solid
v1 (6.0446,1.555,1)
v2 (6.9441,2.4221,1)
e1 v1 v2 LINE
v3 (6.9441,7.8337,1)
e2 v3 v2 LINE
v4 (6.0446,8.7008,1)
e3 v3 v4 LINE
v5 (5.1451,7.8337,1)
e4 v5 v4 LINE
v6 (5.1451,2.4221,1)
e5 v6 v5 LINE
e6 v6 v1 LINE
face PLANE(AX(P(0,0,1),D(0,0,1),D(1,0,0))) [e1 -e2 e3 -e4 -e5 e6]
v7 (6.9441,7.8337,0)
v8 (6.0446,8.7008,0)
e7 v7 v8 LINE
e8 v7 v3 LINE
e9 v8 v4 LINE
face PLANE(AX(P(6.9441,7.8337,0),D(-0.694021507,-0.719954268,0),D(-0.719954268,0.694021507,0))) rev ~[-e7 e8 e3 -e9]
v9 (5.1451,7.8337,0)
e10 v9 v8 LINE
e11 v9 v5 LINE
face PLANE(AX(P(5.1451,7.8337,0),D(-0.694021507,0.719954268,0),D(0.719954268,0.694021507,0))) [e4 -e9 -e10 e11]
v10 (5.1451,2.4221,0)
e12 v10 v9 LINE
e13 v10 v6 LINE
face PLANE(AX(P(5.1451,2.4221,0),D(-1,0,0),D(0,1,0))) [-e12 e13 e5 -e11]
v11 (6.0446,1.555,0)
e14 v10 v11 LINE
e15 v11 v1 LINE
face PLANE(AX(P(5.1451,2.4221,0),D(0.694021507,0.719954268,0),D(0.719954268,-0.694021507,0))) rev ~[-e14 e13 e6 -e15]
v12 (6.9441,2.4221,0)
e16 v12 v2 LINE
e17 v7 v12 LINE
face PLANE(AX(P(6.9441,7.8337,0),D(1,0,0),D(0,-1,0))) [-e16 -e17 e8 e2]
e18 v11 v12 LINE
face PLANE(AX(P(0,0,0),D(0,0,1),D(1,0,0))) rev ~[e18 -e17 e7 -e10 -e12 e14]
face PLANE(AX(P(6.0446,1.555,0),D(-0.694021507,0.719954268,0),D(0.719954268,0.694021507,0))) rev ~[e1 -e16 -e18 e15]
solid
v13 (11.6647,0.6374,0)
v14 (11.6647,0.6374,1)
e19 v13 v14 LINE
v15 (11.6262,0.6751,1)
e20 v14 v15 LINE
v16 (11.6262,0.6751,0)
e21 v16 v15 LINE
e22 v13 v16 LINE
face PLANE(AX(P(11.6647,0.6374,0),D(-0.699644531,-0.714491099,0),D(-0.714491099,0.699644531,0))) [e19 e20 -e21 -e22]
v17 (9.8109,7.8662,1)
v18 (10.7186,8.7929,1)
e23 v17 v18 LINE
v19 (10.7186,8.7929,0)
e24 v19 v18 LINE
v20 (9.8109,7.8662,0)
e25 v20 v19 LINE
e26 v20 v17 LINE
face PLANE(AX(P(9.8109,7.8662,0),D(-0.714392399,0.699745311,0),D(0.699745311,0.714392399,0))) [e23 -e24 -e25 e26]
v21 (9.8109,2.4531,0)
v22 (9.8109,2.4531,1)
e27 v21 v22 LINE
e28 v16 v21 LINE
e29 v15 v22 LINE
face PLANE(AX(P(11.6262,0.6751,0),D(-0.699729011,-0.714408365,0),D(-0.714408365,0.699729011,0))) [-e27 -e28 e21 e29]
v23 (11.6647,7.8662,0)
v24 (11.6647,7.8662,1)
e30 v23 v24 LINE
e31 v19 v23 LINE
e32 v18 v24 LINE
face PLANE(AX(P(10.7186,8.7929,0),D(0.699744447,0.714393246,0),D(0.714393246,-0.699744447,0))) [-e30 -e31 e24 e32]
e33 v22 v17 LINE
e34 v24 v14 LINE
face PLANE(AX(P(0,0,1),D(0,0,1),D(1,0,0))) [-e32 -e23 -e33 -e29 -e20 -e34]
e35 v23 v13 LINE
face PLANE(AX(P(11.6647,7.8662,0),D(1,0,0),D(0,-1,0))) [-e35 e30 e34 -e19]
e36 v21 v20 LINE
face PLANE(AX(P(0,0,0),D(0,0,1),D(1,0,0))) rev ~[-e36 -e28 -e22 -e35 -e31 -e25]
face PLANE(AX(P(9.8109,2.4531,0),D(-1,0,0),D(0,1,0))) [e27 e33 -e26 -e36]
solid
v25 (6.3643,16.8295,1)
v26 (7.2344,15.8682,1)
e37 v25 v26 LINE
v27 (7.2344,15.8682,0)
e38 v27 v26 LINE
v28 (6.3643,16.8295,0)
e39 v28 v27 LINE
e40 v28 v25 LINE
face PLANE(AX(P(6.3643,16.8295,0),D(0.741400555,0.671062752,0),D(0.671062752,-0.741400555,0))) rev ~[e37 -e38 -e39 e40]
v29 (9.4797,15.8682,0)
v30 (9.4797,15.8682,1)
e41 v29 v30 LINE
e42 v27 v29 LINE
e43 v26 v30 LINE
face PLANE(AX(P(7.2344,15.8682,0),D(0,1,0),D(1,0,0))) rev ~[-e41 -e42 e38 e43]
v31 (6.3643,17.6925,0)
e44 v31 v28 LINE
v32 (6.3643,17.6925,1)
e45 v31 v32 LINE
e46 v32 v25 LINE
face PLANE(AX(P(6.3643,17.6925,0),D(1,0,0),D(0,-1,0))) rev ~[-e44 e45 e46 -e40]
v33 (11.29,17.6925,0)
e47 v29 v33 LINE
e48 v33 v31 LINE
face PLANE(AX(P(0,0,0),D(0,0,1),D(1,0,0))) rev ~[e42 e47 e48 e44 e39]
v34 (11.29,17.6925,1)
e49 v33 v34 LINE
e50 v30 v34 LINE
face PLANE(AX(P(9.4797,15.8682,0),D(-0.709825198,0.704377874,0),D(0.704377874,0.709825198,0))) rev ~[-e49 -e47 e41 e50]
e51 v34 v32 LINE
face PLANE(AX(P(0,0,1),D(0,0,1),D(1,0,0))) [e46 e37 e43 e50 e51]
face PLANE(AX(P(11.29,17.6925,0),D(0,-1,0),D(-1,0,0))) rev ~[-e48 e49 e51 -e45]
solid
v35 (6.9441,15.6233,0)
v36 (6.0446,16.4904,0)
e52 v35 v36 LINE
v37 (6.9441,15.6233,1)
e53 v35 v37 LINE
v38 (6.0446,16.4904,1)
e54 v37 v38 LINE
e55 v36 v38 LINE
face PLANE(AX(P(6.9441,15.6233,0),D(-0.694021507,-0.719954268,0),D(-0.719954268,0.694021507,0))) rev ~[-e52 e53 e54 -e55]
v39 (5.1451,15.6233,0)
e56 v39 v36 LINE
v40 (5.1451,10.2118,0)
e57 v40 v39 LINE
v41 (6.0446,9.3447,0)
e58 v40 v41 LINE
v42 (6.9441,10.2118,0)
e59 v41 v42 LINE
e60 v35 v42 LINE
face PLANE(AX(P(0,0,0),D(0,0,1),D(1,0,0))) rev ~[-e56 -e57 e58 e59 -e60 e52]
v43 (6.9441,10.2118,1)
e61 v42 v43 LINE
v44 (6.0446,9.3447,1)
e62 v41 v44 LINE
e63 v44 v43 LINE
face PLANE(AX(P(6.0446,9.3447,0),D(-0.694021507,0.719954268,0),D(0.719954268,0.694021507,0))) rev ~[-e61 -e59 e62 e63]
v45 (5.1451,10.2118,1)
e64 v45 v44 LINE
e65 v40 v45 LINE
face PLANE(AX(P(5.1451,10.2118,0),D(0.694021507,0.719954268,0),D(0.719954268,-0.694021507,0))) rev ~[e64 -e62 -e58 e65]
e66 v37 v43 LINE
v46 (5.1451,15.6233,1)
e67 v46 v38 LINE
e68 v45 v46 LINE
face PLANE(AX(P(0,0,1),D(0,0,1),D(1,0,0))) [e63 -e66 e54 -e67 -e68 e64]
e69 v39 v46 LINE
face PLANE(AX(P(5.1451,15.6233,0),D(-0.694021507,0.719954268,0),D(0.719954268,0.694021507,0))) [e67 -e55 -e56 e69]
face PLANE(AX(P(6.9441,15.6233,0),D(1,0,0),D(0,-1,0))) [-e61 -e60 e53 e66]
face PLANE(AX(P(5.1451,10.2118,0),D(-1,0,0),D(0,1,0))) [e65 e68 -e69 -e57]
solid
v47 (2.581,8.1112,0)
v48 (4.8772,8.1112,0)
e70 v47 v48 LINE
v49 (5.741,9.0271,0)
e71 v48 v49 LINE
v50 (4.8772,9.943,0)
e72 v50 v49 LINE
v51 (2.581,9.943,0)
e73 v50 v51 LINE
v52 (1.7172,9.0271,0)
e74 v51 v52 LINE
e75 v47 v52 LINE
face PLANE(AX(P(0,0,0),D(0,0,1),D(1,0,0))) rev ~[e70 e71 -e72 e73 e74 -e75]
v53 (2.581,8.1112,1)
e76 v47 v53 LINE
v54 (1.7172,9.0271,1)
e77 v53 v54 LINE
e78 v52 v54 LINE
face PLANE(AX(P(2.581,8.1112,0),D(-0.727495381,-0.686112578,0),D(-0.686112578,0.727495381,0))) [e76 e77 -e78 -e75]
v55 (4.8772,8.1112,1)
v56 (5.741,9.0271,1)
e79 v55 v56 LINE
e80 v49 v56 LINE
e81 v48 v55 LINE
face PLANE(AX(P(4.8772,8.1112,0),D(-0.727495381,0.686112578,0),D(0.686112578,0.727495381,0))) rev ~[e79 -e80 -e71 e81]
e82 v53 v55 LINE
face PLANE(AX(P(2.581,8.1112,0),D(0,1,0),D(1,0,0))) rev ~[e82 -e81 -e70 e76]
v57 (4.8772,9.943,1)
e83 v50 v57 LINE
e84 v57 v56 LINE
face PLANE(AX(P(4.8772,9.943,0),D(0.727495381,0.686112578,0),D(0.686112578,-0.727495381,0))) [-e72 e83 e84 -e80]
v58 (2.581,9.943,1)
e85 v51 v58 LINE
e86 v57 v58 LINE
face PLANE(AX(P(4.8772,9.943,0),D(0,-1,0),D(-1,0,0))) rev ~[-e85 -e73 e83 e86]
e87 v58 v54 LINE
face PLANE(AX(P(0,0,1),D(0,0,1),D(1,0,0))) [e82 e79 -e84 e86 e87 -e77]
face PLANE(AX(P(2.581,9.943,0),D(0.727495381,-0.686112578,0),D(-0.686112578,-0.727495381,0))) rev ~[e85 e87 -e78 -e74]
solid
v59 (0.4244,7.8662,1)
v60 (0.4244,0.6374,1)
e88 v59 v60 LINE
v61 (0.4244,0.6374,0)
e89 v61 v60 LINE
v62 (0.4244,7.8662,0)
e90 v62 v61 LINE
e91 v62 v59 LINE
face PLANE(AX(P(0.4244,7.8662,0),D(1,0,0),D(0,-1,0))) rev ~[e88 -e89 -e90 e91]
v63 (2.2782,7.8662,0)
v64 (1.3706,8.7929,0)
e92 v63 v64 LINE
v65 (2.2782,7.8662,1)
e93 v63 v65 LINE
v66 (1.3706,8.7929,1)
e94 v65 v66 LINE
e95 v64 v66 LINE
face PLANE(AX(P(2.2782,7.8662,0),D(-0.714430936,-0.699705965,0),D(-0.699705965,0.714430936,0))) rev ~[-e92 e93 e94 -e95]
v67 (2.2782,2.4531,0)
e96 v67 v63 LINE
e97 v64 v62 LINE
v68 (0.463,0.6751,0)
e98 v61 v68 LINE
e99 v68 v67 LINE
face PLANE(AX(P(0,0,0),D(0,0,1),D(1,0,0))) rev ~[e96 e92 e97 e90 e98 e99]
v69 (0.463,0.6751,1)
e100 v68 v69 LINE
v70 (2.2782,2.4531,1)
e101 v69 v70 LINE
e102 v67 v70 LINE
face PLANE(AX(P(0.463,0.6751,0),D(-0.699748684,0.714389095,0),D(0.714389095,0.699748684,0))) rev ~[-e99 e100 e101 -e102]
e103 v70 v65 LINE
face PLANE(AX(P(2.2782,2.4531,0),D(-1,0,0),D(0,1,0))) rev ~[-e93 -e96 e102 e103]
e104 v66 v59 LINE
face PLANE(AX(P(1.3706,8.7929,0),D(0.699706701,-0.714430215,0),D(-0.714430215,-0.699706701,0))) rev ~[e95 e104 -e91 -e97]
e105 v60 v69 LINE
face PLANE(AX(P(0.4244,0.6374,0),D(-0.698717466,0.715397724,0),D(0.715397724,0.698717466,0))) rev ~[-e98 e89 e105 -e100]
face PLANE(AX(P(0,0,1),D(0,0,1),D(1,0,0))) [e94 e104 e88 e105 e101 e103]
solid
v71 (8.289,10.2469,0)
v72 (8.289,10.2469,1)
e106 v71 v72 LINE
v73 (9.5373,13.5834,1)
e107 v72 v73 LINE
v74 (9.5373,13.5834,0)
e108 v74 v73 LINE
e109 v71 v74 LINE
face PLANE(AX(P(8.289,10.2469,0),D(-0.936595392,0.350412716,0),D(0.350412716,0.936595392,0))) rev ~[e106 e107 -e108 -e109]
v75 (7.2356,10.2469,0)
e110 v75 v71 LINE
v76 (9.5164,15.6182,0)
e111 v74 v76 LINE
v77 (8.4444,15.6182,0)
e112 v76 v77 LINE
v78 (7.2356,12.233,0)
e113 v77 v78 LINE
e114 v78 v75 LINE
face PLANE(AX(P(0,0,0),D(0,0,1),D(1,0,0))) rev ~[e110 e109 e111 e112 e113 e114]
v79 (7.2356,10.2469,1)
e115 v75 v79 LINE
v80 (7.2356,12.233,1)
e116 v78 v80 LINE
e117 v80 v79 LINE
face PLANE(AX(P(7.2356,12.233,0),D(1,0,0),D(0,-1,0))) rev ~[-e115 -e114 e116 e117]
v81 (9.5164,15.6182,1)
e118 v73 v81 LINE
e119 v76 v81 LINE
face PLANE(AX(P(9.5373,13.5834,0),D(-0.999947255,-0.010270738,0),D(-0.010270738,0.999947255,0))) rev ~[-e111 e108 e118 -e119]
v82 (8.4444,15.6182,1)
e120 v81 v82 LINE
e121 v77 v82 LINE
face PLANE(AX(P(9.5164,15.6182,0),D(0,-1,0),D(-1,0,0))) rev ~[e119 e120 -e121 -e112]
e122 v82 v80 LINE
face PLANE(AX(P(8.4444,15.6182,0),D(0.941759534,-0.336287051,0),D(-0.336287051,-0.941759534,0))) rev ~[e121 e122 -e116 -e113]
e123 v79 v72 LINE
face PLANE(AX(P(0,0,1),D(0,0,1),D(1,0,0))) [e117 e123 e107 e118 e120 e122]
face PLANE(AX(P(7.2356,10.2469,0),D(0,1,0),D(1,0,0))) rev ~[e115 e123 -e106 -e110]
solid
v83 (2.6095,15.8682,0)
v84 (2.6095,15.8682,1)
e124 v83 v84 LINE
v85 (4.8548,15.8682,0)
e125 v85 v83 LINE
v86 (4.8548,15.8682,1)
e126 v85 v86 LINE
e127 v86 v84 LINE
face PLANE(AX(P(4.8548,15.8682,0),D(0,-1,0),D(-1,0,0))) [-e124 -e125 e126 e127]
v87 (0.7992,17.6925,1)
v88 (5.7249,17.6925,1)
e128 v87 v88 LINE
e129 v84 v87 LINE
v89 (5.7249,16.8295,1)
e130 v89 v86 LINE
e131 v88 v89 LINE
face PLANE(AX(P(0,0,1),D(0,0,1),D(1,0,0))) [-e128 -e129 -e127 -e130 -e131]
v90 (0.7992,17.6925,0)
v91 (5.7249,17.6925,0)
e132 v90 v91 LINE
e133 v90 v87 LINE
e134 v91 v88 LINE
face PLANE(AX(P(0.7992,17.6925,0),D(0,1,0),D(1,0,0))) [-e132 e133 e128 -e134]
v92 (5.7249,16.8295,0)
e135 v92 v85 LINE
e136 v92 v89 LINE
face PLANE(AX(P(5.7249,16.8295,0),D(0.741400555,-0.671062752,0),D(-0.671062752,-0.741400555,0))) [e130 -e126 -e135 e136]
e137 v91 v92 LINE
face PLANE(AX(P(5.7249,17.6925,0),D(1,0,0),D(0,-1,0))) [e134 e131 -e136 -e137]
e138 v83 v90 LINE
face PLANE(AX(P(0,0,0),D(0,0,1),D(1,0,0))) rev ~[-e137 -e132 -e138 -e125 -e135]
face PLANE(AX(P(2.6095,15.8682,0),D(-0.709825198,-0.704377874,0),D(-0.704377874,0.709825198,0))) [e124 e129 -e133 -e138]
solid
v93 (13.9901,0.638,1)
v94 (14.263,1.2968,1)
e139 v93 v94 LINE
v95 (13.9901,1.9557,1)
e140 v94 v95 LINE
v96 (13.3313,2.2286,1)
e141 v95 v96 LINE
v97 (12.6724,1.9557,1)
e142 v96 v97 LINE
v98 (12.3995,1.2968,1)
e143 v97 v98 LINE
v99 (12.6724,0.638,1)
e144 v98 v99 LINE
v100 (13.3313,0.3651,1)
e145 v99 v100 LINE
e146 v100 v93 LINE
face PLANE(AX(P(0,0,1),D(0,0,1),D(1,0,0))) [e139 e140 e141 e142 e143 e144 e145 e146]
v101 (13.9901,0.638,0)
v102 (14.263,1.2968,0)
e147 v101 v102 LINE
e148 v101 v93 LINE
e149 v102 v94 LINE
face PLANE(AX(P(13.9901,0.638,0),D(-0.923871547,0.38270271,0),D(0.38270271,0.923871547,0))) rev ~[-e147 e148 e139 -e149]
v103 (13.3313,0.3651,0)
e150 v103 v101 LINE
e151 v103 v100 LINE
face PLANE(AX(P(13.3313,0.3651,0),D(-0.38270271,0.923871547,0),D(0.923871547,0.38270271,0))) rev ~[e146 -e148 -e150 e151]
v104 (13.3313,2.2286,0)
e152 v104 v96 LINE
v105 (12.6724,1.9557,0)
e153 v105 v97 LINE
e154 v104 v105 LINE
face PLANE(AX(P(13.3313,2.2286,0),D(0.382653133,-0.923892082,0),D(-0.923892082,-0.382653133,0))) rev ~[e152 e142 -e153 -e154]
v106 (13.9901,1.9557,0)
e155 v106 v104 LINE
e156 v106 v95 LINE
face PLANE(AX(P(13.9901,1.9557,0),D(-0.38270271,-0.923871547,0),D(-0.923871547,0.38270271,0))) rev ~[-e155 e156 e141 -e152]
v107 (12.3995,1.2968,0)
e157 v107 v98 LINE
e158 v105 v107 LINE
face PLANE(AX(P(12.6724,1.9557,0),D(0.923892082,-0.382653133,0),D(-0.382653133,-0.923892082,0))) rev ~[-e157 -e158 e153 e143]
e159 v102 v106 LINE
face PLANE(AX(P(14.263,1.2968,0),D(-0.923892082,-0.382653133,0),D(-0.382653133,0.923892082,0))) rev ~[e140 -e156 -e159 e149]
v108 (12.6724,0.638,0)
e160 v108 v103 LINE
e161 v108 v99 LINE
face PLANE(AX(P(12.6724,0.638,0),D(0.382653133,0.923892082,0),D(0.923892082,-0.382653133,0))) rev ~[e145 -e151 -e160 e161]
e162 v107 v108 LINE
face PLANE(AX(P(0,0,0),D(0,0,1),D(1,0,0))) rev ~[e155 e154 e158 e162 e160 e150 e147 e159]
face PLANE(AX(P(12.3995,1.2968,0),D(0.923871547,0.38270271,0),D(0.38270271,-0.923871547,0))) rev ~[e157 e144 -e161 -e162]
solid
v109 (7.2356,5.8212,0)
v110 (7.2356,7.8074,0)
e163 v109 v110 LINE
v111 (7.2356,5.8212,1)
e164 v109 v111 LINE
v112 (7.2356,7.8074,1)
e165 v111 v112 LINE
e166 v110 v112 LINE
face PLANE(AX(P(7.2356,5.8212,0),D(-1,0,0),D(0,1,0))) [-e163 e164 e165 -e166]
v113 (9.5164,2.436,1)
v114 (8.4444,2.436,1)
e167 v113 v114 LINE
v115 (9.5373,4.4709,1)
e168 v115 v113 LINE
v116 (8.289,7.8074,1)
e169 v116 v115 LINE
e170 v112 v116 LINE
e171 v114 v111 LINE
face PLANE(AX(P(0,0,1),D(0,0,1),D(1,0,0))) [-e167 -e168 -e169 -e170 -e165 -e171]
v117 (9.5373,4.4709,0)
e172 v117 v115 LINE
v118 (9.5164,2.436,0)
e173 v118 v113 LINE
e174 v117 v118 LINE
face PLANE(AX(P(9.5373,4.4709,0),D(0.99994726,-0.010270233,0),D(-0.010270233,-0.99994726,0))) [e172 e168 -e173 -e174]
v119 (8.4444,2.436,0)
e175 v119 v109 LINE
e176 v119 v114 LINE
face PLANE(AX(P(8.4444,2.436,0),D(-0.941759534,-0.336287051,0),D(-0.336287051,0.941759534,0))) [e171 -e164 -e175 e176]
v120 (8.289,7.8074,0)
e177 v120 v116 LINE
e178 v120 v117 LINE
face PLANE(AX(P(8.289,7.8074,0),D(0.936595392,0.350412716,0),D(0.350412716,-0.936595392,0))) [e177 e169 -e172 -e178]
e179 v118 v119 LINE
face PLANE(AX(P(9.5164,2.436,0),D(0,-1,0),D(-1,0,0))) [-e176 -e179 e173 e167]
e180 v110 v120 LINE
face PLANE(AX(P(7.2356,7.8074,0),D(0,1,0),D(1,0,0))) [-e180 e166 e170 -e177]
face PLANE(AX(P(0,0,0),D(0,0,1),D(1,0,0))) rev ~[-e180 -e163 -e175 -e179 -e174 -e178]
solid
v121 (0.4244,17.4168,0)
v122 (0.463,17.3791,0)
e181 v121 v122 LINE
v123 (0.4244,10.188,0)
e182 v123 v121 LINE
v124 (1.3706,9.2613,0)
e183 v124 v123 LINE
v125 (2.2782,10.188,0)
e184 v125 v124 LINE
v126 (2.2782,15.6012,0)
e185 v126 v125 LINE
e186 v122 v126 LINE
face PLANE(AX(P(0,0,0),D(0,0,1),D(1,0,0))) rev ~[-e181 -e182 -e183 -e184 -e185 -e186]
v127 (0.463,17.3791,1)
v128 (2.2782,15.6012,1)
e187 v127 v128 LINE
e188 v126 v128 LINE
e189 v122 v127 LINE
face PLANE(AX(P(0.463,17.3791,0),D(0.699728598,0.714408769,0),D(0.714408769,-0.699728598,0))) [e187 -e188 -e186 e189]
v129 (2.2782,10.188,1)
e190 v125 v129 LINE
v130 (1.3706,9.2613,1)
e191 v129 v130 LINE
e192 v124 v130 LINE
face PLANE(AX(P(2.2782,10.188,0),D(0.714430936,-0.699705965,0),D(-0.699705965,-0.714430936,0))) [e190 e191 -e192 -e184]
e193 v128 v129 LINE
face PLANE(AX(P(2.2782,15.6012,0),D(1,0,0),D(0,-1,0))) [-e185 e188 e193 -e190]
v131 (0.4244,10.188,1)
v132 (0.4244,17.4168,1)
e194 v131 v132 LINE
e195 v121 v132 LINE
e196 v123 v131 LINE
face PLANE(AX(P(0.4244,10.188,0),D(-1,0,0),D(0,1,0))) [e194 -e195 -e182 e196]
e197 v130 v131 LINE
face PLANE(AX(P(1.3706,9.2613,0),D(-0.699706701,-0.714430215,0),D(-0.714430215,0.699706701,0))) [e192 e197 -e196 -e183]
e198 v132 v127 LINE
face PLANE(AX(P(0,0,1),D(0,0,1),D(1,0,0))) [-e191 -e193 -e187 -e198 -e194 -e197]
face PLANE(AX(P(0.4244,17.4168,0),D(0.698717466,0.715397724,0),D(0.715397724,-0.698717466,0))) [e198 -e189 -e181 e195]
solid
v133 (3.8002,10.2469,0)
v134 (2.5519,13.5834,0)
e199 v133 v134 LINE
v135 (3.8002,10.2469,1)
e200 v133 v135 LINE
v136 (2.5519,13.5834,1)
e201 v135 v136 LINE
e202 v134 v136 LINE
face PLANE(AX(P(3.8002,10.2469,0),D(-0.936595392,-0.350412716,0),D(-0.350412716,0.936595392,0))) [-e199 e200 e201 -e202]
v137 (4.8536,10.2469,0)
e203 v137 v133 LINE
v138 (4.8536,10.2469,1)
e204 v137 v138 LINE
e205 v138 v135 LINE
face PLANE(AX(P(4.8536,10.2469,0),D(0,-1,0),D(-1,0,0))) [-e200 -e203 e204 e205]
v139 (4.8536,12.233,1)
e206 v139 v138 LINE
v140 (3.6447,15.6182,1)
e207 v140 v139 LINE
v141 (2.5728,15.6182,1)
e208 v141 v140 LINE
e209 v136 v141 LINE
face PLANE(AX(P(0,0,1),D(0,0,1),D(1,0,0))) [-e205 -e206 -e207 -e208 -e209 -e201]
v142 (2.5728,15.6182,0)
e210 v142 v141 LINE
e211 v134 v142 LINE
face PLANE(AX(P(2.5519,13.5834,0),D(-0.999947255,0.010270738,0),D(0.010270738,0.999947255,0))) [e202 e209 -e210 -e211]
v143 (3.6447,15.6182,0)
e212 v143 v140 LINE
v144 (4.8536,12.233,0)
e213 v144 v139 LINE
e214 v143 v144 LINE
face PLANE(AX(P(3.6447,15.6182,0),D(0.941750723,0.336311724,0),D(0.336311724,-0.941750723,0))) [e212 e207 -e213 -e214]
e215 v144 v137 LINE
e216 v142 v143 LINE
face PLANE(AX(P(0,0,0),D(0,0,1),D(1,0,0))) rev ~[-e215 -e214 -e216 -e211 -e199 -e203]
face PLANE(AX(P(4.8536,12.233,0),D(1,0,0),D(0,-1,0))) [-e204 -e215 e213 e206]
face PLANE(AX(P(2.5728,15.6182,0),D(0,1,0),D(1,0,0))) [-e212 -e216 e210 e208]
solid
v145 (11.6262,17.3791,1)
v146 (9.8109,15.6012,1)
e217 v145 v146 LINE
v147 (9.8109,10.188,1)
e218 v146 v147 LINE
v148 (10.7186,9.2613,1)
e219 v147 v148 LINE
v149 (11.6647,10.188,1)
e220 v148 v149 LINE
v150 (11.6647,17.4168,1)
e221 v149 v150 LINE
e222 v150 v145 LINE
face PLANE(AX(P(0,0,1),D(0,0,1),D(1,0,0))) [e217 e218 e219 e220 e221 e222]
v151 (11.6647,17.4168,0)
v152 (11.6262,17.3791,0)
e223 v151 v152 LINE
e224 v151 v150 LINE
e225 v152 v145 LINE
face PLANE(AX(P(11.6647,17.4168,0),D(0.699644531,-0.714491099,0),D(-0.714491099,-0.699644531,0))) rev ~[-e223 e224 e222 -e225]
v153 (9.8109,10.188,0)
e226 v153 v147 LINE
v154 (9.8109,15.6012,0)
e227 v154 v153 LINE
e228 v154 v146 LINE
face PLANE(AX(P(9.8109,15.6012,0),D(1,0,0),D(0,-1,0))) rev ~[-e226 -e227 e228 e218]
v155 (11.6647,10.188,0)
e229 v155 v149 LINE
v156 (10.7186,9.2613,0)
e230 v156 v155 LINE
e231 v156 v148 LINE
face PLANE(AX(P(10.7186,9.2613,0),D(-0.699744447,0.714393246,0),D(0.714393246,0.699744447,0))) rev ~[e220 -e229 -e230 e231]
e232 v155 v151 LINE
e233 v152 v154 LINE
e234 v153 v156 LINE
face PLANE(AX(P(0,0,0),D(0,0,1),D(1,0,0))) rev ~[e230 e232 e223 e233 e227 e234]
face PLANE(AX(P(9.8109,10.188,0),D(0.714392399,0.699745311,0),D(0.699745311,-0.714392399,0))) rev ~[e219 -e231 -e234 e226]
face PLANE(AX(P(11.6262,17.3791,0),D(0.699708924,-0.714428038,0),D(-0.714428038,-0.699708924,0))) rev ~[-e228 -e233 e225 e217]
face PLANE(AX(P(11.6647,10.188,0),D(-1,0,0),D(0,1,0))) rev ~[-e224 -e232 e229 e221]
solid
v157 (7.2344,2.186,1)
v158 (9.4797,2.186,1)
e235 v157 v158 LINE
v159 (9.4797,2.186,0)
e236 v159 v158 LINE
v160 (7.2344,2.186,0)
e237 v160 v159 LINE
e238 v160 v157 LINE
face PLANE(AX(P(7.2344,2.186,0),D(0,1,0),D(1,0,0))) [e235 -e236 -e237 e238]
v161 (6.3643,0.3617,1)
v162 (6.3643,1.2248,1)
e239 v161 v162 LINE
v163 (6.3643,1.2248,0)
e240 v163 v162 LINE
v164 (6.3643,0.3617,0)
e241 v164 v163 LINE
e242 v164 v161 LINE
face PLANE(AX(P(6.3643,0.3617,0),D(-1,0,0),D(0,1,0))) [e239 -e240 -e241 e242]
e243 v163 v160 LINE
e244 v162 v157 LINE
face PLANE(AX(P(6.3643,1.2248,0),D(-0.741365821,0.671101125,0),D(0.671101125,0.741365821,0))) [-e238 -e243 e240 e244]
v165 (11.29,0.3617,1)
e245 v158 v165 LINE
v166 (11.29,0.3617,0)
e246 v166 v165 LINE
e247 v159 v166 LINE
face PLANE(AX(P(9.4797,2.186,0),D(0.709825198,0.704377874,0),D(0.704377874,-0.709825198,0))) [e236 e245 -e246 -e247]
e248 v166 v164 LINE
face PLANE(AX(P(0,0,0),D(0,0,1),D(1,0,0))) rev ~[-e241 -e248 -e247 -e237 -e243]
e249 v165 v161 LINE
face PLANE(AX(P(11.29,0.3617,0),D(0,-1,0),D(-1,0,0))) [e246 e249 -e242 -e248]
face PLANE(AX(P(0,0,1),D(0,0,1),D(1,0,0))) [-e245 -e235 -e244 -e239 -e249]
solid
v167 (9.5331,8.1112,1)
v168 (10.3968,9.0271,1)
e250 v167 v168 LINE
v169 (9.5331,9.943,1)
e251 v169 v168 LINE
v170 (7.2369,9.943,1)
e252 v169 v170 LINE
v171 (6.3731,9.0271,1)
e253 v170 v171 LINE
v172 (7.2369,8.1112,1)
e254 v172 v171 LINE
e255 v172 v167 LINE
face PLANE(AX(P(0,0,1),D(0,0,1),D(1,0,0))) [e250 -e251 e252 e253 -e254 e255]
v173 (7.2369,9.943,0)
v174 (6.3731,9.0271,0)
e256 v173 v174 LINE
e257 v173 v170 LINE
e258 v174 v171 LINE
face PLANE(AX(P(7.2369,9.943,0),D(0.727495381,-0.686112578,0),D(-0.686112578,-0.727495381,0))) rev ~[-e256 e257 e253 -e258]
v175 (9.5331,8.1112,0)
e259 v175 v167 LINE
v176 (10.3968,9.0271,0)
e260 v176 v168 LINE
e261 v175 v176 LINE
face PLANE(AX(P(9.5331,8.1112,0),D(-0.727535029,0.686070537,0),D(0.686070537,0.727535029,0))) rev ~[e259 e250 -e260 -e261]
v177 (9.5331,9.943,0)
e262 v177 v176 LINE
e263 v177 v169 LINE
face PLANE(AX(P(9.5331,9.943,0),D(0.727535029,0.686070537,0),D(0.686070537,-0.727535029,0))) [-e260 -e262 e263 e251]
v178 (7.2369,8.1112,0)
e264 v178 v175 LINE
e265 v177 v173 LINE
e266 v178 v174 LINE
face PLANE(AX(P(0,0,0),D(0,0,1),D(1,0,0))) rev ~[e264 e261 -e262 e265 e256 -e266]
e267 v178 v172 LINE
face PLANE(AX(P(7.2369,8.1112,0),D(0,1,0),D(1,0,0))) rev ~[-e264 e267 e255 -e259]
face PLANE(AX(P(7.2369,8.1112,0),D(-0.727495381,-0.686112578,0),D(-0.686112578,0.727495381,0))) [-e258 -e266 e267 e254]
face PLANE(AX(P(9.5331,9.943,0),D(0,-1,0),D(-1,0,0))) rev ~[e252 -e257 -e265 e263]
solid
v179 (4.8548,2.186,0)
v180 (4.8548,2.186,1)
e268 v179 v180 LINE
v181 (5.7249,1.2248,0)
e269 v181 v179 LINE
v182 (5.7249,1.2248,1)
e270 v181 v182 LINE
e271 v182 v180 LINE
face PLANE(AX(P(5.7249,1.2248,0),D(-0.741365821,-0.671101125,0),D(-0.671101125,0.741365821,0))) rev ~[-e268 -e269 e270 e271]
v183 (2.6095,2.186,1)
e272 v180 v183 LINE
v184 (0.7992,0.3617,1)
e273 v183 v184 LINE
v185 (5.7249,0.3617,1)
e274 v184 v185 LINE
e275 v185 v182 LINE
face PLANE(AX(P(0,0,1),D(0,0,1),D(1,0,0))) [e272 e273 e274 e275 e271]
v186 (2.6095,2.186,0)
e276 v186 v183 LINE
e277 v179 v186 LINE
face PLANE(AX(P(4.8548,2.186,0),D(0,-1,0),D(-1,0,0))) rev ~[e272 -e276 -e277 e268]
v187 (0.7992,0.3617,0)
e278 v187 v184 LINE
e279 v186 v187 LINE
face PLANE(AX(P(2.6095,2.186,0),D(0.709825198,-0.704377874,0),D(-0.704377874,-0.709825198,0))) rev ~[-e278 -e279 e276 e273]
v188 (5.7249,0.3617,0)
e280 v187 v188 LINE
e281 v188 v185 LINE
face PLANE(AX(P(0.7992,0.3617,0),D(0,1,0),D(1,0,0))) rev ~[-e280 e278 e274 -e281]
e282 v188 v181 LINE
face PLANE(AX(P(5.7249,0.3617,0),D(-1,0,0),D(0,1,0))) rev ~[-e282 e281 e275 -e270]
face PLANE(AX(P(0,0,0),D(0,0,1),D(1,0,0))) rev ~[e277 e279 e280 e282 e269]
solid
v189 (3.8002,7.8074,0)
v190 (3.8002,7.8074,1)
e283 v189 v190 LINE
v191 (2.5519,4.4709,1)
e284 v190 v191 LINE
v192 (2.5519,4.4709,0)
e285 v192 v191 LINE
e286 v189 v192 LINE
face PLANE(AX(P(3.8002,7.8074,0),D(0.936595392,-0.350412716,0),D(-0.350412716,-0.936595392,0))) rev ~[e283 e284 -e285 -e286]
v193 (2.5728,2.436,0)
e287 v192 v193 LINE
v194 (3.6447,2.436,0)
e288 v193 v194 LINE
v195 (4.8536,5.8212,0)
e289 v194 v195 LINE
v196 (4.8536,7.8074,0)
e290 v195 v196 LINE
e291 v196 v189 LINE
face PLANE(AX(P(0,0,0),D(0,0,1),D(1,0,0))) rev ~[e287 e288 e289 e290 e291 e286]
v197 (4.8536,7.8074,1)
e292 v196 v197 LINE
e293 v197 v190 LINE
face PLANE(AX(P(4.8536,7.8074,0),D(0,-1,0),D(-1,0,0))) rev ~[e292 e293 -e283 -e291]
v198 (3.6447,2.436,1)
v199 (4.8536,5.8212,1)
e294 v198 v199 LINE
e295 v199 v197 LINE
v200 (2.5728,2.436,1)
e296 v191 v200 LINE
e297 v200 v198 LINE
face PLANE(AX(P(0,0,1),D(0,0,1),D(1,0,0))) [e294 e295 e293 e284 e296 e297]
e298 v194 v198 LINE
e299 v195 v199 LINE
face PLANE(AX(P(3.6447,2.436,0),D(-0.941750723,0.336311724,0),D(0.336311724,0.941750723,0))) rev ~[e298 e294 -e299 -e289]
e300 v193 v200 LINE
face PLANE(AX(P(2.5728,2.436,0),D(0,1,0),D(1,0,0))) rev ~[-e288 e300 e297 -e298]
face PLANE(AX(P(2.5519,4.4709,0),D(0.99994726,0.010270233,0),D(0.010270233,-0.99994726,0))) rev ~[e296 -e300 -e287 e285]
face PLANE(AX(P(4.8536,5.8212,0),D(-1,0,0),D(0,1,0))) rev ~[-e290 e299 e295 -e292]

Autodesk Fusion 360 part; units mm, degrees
sketch "Sketch1" plane through (0, 0, 0) normal (0, 0, 1) x (1, 0, 0)
  line L0 (0.7992, 17.6925) -> (5.7249, 17.6925)
  line L1 (5.7249, 17.6925) -> (5.7249, 16.8295)
  line L2 (5.7249, 16.8295) -> (4.8548, 15.8682)
  line L3 (4.8548, 15.8682) -> (2.6095, 15.8682)
  line L4 (2.6095, 15.8682) -> (0.7992, 17.6925)
  line L5 (6.0446, 16.5847) -> (6.0446, 17.6925) construction
  line L6 (5.5548, 9.0271) -> (6.5259, 9.0271) construction
  line L7 (6.5259, 9.0271) -> (6.7604, 9.0271) construction
  line L8 (6.7604, 9.0271) -> (11.6566, 9.0271) construction
  line L9 (6.0446, 16.5847) -> (6.0446, 17.6925) construction
  line L10 (11.29, 17.6925) -> (6.3643, 17.6925)
  line L11 (9.4797, 15.8682) -> (11.29, 17.6925)
  line L12 (6.3643, 17.6925) -> (6.3643, 16.8295)
  line L13 (6.3643, 16.8295) -> (7.2344, 15.8682)
  line L14 (7.2344, 15.8682) -> (9.4797, 15.8682)
  line L15 (2.5728, 15.6182) -> (3.6447, 15.6182)
  line L16 (3.6447, 15.6182) -> (4.8536, 12.233)
  line L17 (4.8536, 12.233) -> (4.8536, 10.2469)
  line L18 (4.8536, 10.2469) -> (3.8002, 10.2469)
  line L19 (3.8002, 10.2469) -> (2.5519, 13.5834)
  line L20 (2.5519, 13.5834) -> (2.5728, 15.6182)
  line L21 (0.463, 17.3791) -> (2.2782, 15.6012)
  line L22 (2.2782, 15.6012) -> (2.2782, 10.188)
  line L23 (2.2782, 10.188) -> (1.3706, 9.2613)
  line L24 (1.3706, 9.2613) -> (0.4244, 10.188)
  line L25 (0.4244, 10.188) -> (0.4244, 17.4168)
  line L26 (0.4244, 17.4168) -> (0.463, 17.3791)
  line L27 (5.1451, 10.2118) -> (5.1451, 15.6233)
  line L28 (6.9441, 15.6233) -> (6.9441, 10.2118)
  line L29 (6.9441, 10.2118) -> (5.1451, 15.6233) construction
  line L30 (5.1451, 10.2118) -> (6.9441, 15.6233) construction
  line L31 (5.1451, 10.2118) -> (6.0446, 9.3447)
  line L32 (6.0446, 9.3447) -> (6.9441, 10.2118)
  line L33 (5.1451, 15.6233) -> (6.0446, 16.4904)
  line L34 (6.9441, 15.6233) -> (6.0446, 16.4904)
  line L35 (4.8772, 9.943) -> (2.581, 9.943)
  line L36 (2.581, 8.1112) -> (4.8772, 8.1112)
  line L37 (4.8772, 9.943) -> (2.581, 8.1112) construction
  line L38 (2.581, 9.943) -> (4.8772, 8.1112) construction
  line L39 (2.581, 9.943) -> (1.7172, 9.0271)
  line L40 (2.581, 8.1112) -> (1.7172, 9.0271)
  line L41 (4.8772, 8.1112) -> (5.741, 9.0271)
  line L42 (4.8772, 9.943) -> (5.741, 9.0271)
  line L43 (11.6566, 9.0271) -> (5.741, 9.0271) construction
  line L44 (1.7172, 9.0271) -> (0.325, 9.0271) construction
  line L45 (7.2369, 8.1112) -> (6.3731, 9.0271)
  line L46 (7.2369, 8.1112) -> (9.5331, 8.1112)
  line L47 (9.5331, 8.1112) -> (10.3968, 9.0271)
  line L48 (9.5331, 9.943) -> (10.3968, 9.0271)
  line L49 (9.5331, 9.943) -> (7.2369, 9.943)
  line L50 (7.2369, 9.943) -> (6.3731, 9.0271)
  line L51 (6.9441, 7.8337) -> (6.9441, 2.4221)
  line L52 (6.9441, 7.8337) -> (6.0446, 8.7008)
  line L53 (5.1451, 7.8337) -> (6.0446, 8.7008)
  line L54 (5.1451, 2.4221) -> (5.1451, 7.8337)
  line L55 (5.1451, 2.4221) -> (6.0446, 1.555)
  line L56 (6.0446, 1.555) -> (6.9441, 2.4221)
  line L57 (4.8536, 7.8074) -> (3.8002, 7.8074)
  line L58 (3.8002, 7.8074) -> (2.5519, 4.4709)
  line L59 (2.5519, 4.4709) -> (2.5728, 2.436)
  line L60 (2.5728, 2.436) -> (3.6447, 2.436)
  line L61 (3.6447, 2.436) -> (4.8536, 5.8212)
  line L62 (4.8536, 5.8212) -> (4.8536, 7.8074)
  line L63 (8.289, 10.2469) -> (9.5373, 13.5834)
  line L64 (9.5373, 13.5834) -> (9.5164, 15.6182)
  line L65 (9.5164, 15.6182) -> (8.4444, 15.6182)
  line L66 (8.4444, 15.6182) -> (7.2356, 12.233)
  line L67 (7.2356, 12.233) -> (7.2356, 10.2469)
  line L68 (7.2356, 10.2469) -> (8.289, 10.2469)
  line L69 (8.289, 7.8074) -> (9.5373, 4.4709)
  line L70 (9.5373, 4.4709) -> (9.5164, 2.436)
  line L71 (9.5164, 2.436) -> (8.4444, 2.436)
  line L72 (8.4444, 2.436) -> (7.2356, 5.8212)
  line L73 (7.2356, 7.8074) -> (8.289, 7.8074)
  line L74 (7.2356, 5.8212) -> (7.2356, 7.8074)
  line L75 (6.3643, 0.3617) -> (6.3643, 1.2248)
  line L76 (6.3643, 1.2248) -> (7.2344, 2.186)
  line L77 (7.2344, 2.186) -> (9.4797, 2.186)
  line L78 (11.29, 0.3617) -> (6.3643, 0.3617)
  line L79 (9.4797, 2.186) -> (11.29, 0.3617)
  line L80 (2.6095, 2.186) -> (0.7992, 0.3617)
  line L81 (0.7992, 0.3617) -> (5.7249, 0.3617)
  line L82 (5.7249, 0.3617) -> (5.7249, 1.2248)
  line L83 (4.8548, 2.186) -> (2.6095, 2.186)
  line L84 (5.7249, 1.2248) -> (4.8548, 2.186)
  line L85 (1.3706, 8.7929) -> (0.4244, 7.8662)
  line L86 (0.4244, 7.8662) -> (0.4244, 0.6374)
  line L87 (0.463, 0.6751) -> (2.2782, 2.4531)
  line L88 (2.2782, 7.8662) -> (1.3706, 8.7929)
  line L89 (2.2782, 2.4531) -> (2.2782, 7.8662)
  line L90 (0.4244, 0.6374) -> (0.463, 0.6751)
  line L91 (10.7186, 9.2613) -> (11.6647, 10.188)
  line L92 (11.6647, 10.188) -> (11.6647, 17.4168)
  line L93 (11.6647, 17.4168) -> (11.6262, 17.3791)
  line L94 (11.6262, 17.3791) -> (9.8109, 15.6012)
  line L95 (9.8109, 10.188) -> (10.7186, 9.2613)
  line L96 (9.8109, 15.6012) -> (9.8109, 10.188)
  line L97 (11.6647, 7.8662) -> (11.6647, 0.6374)
  line L98 (11.6647, 0.6374) -> (11.6262, 0.6751)
  line L99 (11.6262, 0.6751) -> (9.8109, 2.4531)
  line L100 (9.8109, 2.4531) -> (9.8109, 7.8662)
  line L101 (10.7186, 8.7929) -> (11.6647, 7.8662)
  line L102 (9.8109, 7.8662) -> (10.7186, 8.7929)
  line L103 (14.263, 1.2968) -> (13.9901, 1.9557)
  line L104 (13.9901, 1.9557) -> (13.3313, 2.2286)
  line L105 (13.3313, 2.2286) -> (12.6724, 1.9557)
  line L106 (12.6724, 1.9557) -> (12.3995, 1.2968)
  line L107 (12.3995, 1.2968) -> (12.6724, 0.638)
  line L108 (12.6724, 0.638) -> (13.3313, 0.3651)
  line L109 (13.3313, 0.3651) -> (13.9901, 0.638)
  line L110 (13.9901, 0.638) -> (14.263, 1.2968)
  point P0 (13.3313, 1.2968)
extrude "Extrude1" add sketch "Sketch1" along normal blind 1 contours L103 L104 L105 L106 L107 L108 L109 L110 makes body 1
extrude "Extrude2" add sketch "Sketch1" along normal blind 1 separate body contours L0 L1 L2 L3 L4 | L10 L11 L12 L13 L14 | L15 L16 L17 L18 L19 L20 | L21 L22 L23 L24 L25 L26 | L27 L28 L31 L32 L33 L34 | L35 L36 L39 L40 L41 L42 | L45 L46 L47 L48 L49 L50 | L51 L52 L53 L54 L55 L56 | L57 L58 L59 L60 L61 L62 | L63 L64 L65 L66 L67 L68 | L69 L70 L71 L72 L73 L74 | L75 L76 L77 L78 L79 | L80 L81 L82 L83 L84 | L85 L86 L87 L88 L89 L90 | L91 L92 L93 L94 L95 L96 | L97 L98 L99 L100 L101 L102 makes body 2 at (1.0424, 3.6522, 0) makes body 3 at (8.4058, 4.2427, 0) makes body 4 at (3.0445, 17.0844, 0) makes body 5 at (11.0468, 14.402, 0) makes body 6 at (9.0447, 17.0844, 0) makes body 7 at (3.6834, 13.8115, 0) makes body 8 at (5.7448, 4.226, 0) makes body 9 at (3.0445, 0.9698, 0) makes body 10 at (3.6834, 4.2427, 0) makes body 11 at (8.7677, 9.3324, 0) makes body 12 at (5.7448, 13.8195, 0) makes body 13 at (11.0468, 3.6522, 1) makes body 14 at (8.4058, 13.8115, 0) makes body 15 at (1.0424, 14.402, 0) makes body 16 at (3.3464, 9.3324, 0) makes body 17 at (9.0447, 0.9698, 0)
sketch "Sketch2" plane through (0, 0, 0) normal (0, 0, 1) x (1, 0, 0)
  line L0 (0.0095, 0.0195) -> (12.0095, 0.0195)
  line L1 (12.0095, 0.0195) -> (12.0095, 18.0195)
  line L2 (12.0095, 18.0195) -> (0.0095, 18.0195)
  line L3 (0.0095, 18.0195) -> (0.0095, 0.0195)
  dimension "d5" = 12
  dimension "d6" = 18
